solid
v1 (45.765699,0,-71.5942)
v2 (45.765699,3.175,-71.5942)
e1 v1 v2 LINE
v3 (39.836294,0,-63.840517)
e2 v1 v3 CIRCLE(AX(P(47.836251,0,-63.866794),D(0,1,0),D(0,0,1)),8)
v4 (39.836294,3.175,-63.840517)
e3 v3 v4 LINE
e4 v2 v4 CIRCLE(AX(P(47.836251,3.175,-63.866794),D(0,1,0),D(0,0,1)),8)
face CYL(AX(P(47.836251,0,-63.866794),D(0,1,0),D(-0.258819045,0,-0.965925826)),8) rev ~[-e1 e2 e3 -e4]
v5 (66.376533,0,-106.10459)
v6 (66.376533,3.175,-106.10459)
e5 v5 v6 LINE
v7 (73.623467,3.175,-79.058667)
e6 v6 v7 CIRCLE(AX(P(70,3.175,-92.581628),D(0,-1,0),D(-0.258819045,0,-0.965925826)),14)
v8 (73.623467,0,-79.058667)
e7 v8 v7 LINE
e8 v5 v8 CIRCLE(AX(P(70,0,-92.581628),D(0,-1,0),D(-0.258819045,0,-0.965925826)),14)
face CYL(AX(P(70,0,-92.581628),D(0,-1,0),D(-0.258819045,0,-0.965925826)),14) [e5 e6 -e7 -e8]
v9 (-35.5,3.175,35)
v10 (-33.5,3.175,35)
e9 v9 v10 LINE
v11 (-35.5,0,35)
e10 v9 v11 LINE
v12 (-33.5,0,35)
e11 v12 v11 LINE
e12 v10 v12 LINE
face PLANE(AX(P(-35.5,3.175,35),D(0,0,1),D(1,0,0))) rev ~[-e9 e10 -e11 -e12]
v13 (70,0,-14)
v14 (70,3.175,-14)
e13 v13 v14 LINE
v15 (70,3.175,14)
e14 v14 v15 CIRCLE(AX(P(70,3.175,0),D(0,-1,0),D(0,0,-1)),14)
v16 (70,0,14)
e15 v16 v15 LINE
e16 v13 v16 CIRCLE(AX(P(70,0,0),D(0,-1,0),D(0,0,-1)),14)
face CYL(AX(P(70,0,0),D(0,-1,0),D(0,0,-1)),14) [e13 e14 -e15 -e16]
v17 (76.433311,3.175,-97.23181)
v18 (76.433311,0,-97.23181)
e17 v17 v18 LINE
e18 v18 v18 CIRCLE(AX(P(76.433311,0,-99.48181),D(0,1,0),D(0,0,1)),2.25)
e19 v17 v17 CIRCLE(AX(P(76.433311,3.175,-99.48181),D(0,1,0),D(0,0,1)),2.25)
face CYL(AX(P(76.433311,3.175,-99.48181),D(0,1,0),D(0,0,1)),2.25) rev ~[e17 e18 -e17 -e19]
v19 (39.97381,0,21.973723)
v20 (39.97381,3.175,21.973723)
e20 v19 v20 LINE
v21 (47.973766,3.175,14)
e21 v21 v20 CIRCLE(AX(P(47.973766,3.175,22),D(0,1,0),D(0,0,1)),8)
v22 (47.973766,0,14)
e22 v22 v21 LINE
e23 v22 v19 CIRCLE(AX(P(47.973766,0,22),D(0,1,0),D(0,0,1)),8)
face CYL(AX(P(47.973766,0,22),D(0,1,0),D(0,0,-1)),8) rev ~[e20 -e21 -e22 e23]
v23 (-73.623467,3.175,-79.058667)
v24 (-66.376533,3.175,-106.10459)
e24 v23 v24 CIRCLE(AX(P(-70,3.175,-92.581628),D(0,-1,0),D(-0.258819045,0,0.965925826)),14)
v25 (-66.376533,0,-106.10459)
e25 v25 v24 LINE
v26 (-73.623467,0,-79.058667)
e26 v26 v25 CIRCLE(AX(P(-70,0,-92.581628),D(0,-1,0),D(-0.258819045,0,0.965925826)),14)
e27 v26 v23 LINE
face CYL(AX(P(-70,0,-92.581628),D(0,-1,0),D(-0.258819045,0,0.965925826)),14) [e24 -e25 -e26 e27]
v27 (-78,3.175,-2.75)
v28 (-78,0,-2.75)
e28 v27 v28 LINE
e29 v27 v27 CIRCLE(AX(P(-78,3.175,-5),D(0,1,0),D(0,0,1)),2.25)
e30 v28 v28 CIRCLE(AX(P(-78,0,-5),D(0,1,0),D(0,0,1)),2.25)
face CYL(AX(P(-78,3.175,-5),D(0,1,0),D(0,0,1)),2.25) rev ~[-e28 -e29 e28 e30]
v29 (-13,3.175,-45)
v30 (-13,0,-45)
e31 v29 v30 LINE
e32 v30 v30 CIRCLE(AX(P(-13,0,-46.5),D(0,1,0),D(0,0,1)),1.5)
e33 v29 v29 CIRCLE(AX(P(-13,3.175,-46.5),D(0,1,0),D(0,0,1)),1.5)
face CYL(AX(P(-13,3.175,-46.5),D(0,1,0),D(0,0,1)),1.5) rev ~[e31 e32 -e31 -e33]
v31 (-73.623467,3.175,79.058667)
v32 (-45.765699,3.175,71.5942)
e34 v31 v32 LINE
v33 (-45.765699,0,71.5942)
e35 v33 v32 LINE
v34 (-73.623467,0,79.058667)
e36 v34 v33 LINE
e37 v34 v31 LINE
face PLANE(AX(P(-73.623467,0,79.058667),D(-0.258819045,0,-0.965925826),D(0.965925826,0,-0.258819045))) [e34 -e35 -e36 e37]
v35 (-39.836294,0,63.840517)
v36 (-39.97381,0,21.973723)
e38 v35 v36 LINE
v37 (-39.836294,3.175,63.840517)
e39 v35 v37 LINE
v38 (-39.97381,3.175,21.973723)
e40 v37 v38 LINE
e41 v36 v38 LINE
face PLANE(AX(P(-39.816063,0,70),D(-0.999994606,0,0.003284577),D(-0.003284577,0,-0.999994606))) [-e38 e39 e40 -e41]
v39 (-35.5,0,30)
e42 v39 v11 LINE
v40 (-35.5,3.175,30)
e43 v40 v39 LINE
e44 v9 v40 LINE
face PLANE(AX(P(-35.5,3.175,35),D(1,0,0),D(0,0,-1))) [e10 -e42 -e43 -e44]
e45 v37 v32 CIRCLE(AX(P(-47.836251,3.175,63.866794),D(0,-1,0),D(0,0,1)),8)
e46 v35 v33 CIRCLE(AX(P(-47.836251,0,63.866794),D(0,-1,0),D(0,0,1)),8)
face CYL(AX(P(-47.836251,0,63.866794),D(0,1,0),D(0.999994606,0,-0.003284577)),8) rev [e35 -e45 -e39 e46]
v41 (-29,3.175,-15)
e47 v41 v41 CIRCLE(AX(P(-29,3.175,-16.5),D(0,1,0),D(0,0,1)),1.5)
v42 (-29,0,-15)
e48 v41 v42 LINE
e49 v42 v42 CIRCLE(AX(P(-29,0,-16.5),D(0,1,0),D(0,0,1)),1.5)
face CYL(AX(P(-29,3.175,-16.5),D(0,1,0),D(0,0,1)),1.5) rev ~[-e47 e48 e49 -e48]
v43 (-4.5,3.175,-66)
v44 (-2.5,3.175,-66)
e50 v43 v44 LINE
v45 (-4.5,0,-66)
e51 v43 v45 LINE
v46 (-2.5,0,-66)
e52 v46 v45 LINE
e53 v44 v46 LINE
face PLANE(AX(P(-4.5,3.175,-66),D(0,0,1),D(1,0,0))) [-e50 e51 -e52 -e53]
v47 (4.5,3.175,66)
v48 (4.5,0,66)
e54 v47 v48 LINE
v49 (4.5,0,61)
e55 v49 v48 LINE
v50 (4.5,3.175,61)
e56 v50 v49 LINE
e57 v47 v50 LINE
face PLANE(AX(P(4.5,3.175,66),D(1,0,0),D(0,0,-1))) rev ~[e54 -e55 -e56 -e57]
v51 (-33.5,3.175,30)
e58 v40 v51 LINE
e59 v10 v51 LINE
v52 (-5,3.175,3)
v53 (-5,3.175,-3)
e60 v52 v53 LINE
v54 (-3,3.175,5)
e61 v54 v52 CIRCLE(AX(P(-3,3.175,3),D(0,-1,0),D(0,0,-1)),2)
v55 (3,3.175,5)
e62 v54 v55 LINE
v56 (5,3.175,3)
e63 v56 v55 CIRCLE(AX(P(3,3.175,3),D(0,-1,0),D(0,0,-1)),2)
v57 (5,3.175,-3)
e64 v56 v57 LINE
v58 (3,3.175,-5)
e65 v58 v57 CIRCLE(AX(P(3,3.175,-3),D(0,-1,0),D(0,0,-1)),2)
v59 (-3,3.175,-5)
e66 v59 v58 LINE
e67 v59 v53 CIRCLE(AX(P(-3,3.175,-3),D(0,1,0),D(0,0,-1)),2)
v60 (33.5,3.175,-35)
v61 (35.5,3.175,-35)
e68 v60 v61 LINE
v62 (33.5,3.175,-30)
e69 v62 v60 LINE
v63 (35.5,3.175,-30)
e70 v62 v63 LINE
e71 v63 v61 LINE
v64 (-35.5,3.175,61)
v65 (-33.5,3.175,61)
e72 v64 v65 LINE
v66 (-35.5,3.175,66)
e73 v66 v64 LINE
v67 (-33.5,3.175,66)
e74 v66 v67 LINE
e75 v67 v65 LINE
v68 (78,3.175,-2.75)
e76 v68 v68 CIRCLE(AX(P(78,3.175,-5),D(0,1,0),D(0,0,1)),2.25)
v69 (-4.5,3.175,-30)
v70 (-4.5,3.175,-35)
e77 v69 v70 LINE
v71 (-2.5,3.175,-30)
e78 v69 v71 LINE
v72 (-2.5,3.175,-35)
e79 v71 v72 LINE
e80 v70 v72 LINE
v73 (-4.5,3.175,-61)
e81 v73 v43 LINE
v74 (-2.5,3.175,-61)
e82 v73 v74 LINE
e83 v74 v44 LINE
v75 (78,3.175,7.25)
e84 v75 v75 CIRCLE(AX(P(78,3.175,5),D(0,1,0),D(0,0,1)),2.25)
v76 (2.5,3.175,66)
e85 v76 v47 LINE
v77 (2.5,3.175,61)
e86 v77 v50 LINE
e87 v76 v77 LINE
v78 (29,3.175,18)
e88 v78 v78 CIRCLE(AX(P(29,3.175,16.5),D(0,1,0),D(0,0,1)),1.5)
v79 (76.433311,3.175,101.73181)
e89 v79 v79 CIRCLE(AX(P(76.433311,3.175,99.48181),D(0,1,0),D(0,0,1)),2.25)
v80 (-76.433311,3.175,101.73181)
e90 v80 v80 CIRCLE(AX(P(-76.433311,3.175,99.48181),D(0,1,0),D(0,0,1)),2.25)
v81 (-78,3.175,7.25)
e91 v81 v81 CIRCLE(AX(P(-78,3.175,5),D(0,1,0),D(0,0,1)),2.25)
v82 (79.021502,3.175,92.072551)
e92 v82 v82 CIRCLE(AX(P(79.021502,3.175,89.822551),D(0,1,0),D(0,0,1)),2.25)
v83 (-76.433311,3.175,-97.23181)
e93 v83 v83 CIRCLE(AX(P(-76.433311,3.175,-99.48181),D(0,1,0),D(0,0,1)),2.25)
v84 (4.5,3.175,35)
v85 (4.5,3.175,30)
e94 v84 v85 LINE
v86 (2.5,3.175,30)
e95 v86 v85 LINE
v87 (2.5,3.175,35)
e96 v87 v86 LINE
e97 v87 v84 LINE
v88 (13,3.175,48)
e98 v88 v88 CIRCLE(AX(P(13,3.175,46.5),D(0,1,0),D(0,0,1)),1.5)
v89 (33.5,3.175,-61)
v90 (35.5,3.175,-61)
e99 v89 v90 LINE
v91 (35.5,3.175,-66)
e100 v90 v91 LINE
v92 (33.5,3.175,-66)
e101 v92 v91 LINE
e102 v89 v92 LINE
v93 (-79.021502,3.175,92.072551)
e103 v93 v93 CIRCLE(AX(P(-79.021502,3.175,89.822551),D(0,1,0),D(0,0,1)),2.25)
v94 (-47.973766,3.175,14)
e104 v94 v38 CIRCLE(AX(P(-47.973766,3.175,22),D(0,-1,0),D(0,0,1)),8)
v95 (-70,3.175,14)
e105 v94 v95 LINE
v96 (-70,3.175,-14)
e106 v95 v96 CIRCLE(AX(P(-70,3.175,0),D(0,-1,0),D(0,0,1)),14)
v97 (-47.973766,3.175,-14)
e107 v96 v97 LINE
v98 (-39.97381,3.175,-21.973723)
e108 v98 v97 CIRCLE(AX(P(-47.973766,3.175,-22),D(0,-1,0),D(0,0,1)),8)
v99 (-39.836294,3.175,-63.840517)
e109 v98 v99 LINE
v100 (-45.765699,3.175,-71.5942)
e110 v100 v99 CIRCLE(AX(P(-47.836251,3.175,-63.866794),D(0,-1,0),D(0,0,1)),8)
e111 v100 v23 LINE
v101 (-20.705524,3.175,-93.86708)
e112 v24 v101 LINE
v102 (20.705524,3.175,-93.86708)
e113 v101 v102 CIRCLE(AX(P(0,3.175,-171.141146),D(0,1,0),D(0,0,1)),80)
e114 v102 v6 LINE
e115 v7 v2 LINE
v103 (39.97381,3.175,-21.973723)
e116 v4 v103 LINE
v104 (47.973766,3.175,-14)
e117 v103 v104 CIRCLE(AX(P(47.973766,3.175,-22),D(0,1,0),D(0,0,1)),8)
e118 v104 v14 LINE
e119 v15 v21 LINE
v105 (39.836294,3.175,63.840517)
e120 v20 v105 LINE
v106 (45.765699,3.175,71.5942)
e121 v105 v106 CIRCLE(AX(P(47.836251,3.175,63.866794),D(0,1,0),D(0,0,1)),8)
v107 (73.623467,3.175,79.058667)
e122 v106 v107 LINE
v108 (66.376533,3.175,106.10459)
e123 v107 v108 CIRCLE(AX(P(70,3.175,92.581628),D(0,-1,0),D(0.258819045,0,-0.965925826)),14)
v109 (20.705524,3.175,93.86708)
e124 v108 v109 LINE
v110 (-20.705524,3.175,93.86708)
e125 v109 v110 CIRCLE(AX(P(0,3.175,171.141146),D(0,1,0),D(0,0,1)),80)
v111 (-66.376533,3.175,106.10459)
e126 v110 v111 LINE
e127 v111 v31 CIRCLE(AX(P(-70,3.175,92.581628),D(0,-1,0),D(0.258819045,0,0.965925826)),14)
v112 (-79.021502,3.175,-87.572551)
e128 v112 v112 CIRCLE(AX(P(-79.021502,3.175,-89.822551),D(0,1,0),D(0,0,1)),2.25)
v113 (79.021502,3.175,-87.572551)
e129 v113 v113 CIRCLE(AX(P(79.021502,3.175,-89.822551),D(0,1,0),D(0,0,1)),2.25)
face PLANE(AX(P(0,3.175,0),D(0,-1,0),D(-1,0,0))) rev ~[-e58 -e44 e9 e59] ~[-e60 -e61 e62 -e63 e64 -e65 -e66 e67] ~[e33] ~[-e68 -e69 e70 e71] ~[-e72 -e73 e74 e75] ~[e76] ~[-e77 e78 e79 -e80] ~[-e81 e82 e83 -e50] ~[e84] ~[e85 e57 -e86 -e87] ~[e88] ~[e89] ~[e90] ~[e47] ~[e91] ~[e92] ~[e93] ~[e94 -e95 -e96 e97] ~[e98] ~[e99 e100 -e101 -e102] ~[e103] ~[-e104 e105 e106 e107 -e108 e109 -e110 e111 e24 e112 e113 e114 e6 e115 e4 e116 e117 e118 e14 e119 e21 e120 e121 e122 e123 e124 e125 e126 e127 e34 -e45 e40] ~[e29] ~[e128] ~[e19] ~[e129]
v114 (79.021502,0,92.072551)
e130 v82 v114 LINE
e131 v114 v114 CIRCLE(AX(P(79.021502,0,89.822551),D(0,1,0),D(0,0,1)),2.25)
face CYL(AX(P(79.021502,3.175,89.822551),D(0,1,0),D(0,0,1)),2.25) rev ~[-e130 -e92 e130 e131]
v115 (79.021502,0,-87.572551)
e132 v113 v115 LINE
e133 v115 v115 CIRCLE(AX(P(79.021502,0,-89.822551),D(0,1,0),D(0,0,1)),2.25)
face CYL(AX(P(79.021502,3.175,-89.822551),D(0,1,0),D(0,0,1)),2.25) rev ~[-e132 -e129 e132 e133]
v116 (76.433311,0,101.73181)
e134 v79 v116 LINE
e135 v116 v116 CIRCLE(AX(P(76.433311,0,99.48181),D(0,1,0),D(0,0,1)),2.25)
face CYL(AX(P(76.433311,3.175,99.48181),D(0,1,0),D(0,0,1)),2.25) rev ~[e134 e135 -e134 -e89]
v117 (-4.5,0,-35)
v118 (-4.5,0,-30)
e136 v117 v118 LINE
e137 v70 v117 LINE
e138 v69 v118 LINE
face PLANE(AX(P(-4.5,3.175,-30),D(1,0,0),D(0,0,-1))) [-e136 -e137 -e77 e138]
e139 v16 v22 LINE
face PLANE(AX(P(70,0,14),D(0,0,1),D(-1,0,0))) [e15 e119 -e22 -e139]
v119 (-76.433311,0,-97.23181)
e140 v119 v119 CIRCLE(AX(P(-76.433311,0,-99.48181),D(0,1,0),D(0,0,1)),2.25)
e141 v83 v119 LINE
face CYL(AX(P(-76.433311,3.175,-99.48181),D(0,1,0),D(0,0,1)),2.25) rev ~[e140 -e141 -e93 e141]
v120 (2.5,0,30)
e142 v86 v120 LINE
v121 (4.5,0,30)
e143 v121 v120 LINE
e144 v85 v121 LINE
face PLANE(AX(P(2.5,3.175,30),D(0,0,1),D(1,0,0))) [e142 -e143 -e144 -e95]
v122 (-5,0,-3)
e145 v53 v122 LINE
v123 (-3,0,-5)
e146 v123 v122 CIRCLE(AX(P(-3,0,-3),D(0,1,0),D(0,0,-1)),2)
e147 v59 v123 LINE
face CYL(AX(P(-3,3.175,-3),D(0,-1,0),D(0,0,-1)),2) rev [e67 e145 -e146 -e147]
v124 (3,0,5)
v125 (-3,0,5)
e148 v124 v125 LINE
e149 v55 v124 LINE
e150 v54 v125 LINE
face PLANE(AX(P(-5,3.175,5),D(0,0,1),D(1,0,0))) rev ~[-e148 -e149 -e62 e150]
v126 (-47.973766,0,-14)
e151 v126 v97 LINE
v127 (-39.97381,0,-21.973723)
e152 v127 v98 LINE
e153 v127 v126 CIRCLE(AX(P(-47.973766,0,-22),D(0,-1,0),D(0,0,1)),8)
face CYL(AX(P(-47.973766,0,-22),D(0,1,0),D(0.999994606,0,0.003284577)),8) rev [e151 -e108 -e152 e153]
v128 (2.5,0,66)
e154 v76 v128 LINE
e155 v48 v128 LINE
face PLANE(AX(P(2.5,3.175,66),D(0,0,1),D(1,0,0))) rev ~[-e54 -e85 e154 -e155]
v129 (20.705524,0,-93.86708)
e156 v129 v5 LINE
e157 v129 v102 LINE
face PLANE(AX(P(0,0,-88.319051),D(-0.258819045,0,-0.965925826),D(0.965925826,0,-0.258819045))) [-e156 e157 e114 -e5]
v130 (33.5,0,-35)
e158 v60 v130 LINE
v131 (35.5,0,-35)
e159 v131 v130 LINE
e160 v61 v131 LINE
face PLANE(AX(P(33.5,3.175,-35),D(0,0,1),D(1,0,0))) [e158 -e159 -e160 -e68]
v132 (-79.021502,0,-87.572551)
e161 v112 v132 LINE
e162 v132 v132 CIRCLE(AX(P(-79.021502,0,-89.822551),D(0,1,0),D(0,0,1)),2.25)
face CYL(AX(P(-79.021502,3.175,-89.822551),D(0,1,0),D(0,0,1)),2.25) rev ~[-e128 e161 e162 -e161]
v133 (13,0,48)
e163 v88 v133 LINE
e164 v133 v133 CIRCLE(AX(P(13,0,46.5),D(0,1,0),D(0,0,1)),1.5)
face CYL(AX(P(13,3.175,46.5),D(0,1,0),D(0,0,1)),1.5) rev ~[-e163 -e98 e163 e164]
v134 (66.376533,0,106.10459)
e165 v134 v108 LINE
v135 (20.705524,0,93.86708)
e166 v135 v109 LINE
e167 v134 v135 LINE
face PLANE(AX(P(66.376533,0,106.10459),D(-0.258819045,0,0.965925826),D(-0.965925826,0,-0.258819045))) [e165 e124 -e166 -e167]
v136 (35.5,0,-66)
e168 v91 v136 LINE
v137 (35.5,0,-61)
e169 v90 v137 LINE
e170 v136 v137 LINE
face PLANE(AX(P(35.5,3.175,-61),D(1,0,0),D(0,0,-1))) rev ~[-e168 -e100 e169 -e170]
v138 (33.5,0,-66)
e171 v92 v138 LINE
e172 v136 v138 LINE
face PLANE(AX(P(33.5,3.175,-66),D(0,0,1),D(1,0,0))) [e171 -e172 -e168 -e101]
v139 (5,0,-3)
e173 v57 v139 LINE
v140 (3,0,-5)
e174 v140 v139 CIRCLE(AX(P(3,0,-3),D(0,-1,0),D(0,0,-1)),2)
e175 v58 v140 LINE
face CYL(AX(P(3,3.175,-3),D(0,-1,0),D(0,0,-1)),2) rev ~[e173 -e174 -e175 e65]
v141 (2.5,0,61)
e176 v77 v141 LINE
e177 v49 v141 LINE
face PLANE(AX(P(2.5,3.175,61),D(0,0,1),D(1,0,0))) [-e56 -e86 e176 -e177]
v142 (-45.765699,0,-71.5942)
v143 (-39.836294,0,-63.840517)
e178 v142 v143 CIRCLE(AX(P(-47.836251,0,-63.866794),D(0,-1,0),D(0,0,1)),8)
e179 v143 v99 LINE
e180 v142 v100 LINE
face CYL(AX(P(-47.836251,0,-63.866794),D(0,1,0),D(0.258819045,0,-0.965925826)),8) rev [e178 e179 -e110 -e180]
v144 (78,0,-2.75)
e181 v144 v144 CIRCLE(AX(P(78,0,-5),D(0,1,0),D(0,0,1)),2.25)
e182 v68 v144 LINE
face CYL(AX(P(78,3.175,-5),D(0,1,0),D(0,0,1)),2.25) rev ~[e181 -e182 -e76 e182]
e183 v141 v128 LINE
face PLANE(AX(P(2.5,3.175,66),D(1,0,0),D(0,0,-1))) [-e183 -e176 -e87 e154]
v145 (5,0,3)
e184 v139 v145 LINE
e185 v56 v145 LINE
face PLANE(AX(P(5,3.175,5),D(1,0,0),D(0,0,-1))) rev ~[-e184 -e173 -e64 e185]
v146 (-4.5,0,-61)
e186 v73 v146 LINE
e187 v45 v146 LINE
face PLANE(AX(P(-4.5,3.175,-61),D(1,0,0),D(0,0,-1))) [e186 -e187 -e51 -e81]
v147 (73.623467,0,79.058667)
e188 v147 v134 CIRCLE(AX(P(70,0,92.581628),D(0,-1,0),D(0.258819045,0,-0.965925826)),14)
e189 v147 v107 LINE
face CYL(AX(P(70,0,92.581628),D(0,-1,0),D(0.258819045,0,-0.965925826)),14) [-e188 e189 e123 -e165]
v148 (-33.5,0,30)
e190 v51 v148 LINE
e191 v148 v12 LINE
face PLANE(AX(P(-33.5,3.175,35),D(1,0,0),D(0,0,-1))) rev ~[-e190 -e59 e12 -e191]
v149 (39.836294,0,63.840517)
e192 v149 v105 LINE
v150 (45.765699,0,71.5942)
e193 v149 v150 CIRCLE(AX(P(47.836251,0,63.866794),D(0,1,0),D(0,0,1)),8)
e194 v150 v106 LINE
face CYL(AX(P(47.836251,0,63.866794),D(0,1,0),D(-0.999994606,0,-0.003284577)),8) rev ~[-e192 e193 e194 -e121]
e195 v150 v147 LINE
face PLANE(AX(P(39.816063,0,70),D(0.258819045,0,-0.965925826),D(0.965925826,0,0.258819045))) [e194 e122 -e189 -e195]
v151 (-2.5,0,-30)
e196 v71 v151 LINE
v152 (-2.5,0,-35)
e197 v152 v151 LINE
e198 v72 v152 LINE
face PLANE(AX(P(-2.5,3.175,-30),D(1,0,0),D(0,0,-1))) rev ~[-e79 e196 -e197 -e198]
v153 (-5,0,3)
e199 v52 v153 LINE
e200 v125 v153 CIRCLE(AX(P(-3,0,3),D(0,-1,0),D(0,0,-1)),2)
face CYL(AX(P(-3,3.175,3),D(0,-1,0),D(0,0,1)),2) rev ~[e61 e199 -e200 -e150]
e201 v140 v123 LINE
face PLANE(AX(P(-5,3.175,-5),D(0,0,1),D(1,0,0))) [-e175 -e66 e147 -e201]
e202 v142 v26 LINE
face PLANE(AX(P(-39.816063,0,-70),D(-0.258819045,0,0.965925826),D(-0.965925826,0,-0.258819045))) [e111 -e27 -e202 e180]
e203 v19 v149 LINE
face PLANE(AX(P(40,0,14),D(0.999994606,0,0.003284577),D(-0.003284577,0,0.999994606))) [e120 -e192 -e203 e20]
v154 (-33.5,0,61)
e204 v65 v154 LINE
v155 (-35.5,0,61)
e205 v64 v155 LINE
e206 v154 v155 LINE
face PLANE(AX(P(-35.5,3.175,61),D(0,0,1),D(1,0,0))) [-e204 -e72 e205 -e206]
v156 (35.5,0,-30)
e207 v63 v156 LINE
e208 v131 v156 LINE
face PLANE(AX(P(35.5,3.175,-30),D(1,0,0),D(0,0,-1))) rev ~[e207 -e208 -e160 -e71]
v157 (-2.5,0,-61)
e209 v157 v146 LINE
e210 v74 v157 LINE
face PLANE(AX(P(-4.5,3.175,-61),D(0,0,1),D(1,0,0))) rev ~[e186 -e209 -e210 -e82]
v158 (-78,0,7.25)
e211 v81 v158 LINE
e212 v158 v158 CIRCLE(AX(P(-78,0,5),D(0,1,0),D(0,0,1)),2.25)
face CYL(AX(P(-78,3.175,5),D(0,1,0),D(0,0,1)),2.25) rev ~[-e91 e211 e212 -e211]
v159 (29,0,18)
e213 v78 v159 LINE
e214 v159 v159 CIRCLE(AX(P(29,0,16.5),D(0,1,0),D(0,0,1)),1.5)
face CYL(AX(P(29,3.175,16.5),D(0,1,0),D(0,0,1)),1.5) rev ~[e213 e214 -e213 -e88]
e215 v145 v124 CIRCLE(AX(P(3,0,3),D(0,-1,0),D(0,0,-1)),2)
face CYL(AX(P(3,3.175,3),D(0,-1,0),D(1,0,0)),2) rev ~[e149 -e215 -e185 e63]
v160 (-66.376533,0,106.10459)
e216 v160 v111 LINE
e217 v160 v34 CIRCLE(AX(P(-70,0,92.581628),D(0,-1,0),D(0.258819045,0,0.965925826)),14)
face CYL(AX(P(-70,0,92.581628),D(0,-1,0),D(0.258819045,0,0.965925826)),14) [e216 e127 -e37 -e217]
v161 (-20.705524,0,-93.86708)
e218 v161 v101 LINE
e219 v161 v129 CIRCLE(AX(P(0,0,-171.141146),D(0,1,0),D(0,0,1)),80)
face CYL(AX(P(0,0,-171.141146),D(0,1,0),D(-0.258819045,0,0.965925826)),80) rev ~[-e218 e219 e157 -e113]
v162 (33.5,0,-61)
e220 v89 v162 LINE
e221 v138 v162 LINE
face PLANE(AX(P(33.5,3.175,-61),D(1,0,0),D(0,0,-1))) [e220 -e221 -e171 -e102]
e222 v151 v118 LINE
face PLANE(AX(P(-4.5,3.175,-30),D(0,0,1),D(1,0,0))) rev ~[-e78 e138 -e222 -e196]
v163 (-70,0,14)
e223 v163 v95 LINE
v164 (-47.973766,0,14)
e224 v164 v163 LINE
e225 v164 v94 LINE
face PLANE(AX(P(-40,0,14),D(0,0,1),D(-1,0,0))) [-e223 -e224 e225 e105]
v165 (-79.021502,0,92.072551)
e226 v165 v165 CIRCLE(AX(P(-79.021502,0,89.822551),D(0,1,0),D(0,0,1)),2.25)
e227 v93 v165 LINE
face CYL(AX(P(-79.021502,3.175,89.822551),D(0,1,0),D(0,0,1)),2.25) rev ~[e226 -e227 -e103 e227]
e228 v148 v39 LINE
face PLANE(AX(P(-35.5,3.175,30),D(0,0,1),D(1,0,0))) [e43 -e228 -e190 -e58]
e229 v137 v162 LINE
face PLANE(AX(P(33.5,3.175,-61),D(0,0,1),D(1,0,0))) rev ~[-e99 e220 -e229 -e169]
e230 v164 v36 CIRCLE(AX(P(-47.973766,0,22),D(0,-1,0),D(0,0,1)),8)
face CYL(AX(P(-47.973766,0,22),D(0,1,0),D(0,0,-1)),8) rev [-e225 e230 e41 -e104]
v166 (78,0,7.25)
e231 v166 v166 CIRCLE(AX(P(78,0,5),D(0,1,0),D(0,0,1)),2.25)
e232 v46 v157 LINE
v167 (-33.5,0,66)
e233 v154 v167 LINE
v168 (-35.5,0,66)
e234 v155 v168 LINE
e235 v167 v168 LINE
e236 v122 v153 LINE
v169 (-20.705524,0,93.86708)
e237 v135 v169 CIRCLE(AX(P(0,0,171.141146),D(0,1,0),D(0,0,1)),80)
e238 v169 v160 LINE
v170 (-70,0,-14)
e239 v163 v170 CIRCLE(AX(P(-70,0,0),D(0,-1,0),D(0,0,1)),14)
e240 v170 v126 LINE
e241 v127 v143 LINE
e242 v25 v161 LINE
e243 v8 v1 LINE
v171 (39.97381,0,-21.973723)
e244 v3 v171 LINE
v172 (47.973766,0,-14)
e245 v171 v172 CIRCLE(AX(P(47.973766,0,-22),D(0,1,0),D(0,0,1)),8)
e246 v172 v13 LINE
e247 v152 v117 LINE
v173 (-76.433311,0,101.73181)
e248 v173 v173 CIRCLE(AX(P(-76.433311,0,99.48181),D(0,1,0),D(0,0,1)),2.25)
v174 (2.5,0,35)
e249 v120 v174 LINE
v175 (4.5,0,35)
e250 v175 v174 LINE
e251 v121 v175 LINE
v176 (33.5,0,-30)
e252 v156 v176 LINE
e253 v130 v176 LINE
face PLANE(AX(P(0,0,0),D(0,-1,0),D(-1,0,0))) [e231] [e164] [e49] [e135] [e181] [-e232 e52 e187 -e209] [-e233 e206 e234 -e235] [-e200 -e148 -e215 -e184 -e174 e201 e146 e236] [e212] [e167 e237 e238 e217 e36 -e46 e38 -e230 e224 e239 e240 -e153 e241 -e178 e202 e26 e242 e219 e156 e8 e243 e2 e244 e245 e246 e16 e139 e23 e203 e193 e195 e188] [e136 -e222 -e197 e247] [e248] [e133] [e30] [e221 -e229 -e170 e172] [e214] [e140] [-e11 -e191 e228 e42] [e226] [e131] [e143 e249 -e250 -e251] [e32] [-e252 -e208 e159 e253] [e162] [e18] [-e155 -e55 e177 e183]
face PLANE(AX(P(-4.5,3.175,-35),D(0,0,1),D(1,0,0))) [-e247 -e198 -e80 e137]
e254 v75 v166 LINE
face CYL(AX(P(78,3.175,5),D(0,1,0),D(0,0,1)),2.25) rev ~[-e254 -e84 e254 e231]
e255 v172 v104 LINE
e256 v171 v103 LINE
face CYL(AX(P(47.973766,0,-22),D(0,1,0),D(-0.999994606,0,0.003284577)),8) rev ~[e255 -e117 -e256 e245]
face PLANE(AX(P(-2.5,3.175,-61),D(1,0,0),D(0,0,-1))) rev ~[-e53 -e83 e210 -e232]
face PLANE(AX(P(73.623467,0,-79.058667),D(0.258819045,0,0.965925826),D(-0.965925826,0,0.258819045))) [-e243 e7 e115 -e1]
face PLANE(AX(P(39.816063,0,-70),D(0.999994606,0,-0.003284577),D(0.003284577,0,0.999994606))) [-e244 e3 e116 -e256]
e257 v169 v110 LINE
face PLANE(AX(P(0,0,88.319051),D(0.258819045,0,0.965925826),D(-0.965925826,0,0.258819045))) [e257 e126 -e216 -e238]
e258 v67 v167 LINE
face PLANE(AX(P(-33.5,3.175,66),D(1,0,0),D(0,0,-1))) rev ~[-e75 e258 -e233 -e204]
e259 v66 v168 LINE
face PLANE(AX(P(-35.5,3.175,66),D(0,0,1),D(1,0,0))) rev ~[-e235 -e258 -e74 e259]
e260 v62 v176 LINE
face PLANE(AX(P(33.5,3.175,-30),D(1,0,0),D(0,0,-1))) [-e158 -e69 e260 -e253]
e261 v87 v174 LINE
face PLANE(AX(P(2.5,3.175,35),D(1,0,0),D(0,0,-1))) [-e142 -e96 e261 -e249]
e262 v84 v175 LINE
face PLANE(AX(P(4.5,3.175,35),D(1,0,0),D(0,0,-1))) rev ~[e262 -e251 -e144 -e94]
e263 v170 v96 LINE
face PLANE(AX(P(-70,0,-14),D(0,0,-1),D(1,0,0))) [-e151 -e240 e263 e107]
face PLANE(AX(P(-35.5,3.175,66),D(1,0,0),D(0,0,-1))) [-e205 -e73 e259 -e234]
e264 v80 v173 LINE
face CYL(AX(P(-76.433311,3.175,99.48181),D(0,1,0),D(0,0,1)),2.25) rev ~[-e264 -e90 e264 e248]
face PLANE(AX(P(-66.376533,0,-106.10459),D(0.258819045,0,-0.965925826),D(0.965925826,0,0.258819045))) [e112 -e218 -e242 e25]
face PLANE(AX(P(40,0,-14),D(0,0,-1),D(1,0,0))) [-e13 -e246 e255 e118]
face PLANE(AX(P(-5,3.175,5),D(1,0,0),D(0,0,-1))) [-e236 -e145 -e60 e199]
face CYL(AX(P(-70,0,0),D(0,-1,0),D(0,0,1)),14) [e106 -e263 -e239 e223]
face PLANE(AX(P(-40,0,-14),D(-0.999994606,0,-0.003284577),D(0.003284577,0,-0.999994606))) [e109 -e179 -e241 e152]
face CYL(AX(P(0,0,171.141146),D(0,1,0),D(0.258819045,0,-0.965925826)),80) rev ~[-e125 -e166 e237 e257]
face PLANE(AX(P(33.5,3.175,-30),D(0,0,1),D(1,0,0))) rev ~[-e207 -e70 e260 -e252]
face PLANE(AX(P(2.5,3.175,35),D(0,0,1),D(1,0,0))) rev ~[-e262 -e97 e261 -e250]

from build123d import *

# Parameters (mm, degrees)
BOSS_EXTRUDE1_DEPTH = 3.175
FILLET1_R           = 80
FILLET2_R           = 8
SKETCH7_R           = 2.25
CUT_EXTRUDE4_DEPTH  = 10
CUT_EXTRUDE5_DEPTH  = 10
SKETCH9_W           = 10
SKETCH9_H           = 10
CUT_EXTRUDE6_DEPTH  = 10
FILLET3_R           = 2
SKETCH12_W          = 2
SKETCH12_H          = 5
CUT_EXTRUDE7_DEPTH  = 10


with BuildPart() as part:
    # Sketch1 → Boss-Extrude1 (new body)
    with BuildSketch(Plane(origin=(0, 0, 0), x_dir=(1, 0, 0), z_dir=(0, 1, 0))):
        with BuildLine():
            Line((-70, 14), (-40, 14))
            Line((-40, 14), (-39.816062711, 70))
            Line((-39.816062711, 70), (-73.623466631, 79.058666579))
            ThreePointArc((-73.623466631, 79.058666579), (-83.522961568, 96.205094778), (-66.376533369, 106.104589715))
            Line((-66.376533369, 106.104589715), (0, 88.319051202))
            Line((0, 88.319051202), (66.376533369, 106.104589715))
            ThreePointArc((66.376533369, 106.104589715), (83.522961568, 96.205094778), (73.623466631, 79.058666579))
            Line((73.623466631, 79.058666579), (39.816062711, 70))
            Line((39.816062711, 70), (40, 14))
            Line((40, 14), (70, 14))
            ThreePointArc((70, 14), (84, 0), (70, -14))
            Line((70, -14), (40, -14))
            Line((40, -14), (39.816062711, -70))
            Line((39.816062711, -70), (73.623466631, -79.058666579))
            ThreePointArc((73.623466631, -79.058666579), (83.522961568, -96.205094778), (66.376533369, -106.104589715))
            Line((66.376533369, -106.104589715), (0, -88.319051202))
            Line((0, -88.319051202), (-66.376533369, -106.104589715))
            ThreePointArc((-66.376533369, -106.104589715), (-83.522961568, -96.205094778), (-73.623466631, -79.058666579))
            Line((-73.623466631, -79.058666579), (-39.816062711, -70))
            Line((-39.816062711, -70), (-40, -14))
            Line((-40, -14), (-70, -14))
            ThreePointArc((-70, -14), (-84, 0), (-70, 14))
        make_face()
    extrude(amount=BOSS_EXTRUDE1_DEPTH)

    # Fillet1
    fillet1_edges = [part.edges().sort_by_distance(p)[0] for p in [
        (0, 1.5875, -88.319051202),
        (0, 1.5875, 88.319051202),
    ]]
    fillet(fillet1_edges, radius=FILLET1_R)

    # Fillet2
    fillet2_edges = [part.edges().sort_by_distance(p)[0] for p in [
        (-40, 1.5875, -14),
        (-39.816062711, 1.5875, -70),
        (39.816062711, 1.5875, -70),
        (40, 1.5875, -14),
        (40, 1.5875, 14),
        (39.816062711, 1.5875, 70),
        (-39.816062711, 1.5875, 70),
        (-40, 1.5875, 14),
    ]]
    fillet(fillet2_edges, radius=FILLET2_R)

    # Sketch7 → Cut-Extrude4 (cut)
    with BuildSketch(Plane(origin=(0, 3.175, 0), x_dir=(1, 0, 0), z_dir=(0, 1, 0))):
        with Locations(Location((-76.433311385, -99.481809639, 0), (0, 0, 270))):
            Circle(SKETCH7_R)
        with Locations(Location((-79.021501836, -89.822551376, 0), (0, 0, 270))):
            Circle(SKETCH7_R)
        with Locations(Location((-78, -5, 0), (0, 0, 270))):
            Circle(SKETCH7_R)
        with Locations(Location((-78, 5, 0), (0, 0, 270))):
            Circle(SKETCH7_R)
        with Locations(Location((-79.021501836, 89.822551376, 0), (0, 0, 270))):
            Circle(SKETCH7_R)
        with Locations(Location((-76.433311385, 99.481809639, 0), (0, 0, 270))):
            Circle(SKETCH7_R)
        with Locations(Location((79.021501836, 89.822551376, 0), (0, 0, 270))):
            Circle(SKETCH7_R)
        with Locations(Location((76.433311385, 99.481809639, 0), (0, 0, 270))):
            Circle(SKETCH7_R)
        with Locations(Location((78, -5, 0), (0, 0, 270))):
            Circle(SKETCH7_R)
        with Locations(Location((78, 5, 0), (0, 0, 270))):
            Circle(SKETCH7_R)
        with Locations(Location((79.021501836, -89.822551376, 0), (0, 0, 270))):
            Circle(SKETCH7_R)
        with Locations(Location((76.433311385, -99.481809639, 0), (0, 0, 270))):
            Circle(SKETCH7_R)
    extrude(amount=-CUT_EXTRUDE4_DEPTH, mode=Mode.SUBTRACT)

    # Sketch8 → Cut-Extrude5 (cut)
    with BuildSketch(Plane(origin=(0, 3.175, 0), x_dir=(1, 0, 0), z_dir=(0, 1, 0))):
        with BuildLine():
            ThreePointArc((13, -45), (11.5, -46.5), (13, -48))
            ThreePointArc((13, -48), (14.5, -46.5), (13, -45))
        make_face()
        with BuildLine():
            ThreePointArc((29, -15), (27.5, -16.5), (29, -18))
            ThreePointArc((29, -18), (30.5, -16.5), (29, -15))
        make_face()
        with BuildLine():
            ThreePointArc((-13, 48), (-14.5, 46.5), (-13, 45))
            ThreePointArc((-13, 45), (-11.5, 46.5), (-13, 48))
        make_face()
        with BuildLine():
            ThreePointArc((-29, 18), (-30.5, 16.5), (-29, 15))
            ThreePointArc((-29, 15), (-27.5, 16.5), (-29, 18))
        make_face()
    extrude(amount=-CUT_EXTRUDE5_DEPTH, mode=Mode.SUBTRACT)

    # Sketch9 → Cut-Extrude6 (cut)
    with BuildSketch(Plane(origin=(0, 3.175, 0), x_dir=(1, 0, 0), z_dir=(0, 1, 0))):
        Rectangle(SKETCH9_W, SKETCH9_H)
    extrude(amount=-CUT_EXTRUDE6_DEPTH, mode=Mode.SUBTRACT)

    # Fillet3
    fillet3_edges = [part.edges().sort_by_distance(p)[0] for p in [
        (-5, 1.5875, 5),
        (-5, 1.5875, -5),
        (5, 1.5875, -5),
        (5, 1.5875, 5),
    ]]
    fillet(fillet3_edges, radius=FILLET3_R)

    # Sketch12 → Cut-Extrude7 (cut)
    with BuildSketch(Plane(origin=(0, 3.175, 0), x_dir=(1, 0, 0), z_dir=(0, 1, 0))):
        with Locations((-34.5, -32.5)):
            Rectangle(SKETCH12_W, SKETCH12_H)
        with Locations((-34.5, -63.5)):
            Rectangle(SKETCH12_W, SKETCH12_H)
        with Locations((3.5, -63.5)):
            Rectangle(SKETCH12_W, SKETCH12_H)
        with Locations((3.5, -32.5)):
            Rectangle(SKETCH12_W, SKETCH12_H)
        with Locations((-3.5, 63.5)):
            Rectangle(SKETCH12_W, SKETCH12_H)
        with Locations((-3.5, 32.5)):
            Rectangle(SKETCH12_W, SKETCH12_H)
        with Locations((34.5, 32.5)):
            Rectangle(SKETCH12_W, SKETCH12_H)
        with Locations((34.5, 63.5)):
            Rectangle(SKETCH12_W, SKETCH12_H)
    extrude(amount=-CUT_EXTRUDE7_DEPTH, mode=Mode.SUBTRACT)


solid = part.part
